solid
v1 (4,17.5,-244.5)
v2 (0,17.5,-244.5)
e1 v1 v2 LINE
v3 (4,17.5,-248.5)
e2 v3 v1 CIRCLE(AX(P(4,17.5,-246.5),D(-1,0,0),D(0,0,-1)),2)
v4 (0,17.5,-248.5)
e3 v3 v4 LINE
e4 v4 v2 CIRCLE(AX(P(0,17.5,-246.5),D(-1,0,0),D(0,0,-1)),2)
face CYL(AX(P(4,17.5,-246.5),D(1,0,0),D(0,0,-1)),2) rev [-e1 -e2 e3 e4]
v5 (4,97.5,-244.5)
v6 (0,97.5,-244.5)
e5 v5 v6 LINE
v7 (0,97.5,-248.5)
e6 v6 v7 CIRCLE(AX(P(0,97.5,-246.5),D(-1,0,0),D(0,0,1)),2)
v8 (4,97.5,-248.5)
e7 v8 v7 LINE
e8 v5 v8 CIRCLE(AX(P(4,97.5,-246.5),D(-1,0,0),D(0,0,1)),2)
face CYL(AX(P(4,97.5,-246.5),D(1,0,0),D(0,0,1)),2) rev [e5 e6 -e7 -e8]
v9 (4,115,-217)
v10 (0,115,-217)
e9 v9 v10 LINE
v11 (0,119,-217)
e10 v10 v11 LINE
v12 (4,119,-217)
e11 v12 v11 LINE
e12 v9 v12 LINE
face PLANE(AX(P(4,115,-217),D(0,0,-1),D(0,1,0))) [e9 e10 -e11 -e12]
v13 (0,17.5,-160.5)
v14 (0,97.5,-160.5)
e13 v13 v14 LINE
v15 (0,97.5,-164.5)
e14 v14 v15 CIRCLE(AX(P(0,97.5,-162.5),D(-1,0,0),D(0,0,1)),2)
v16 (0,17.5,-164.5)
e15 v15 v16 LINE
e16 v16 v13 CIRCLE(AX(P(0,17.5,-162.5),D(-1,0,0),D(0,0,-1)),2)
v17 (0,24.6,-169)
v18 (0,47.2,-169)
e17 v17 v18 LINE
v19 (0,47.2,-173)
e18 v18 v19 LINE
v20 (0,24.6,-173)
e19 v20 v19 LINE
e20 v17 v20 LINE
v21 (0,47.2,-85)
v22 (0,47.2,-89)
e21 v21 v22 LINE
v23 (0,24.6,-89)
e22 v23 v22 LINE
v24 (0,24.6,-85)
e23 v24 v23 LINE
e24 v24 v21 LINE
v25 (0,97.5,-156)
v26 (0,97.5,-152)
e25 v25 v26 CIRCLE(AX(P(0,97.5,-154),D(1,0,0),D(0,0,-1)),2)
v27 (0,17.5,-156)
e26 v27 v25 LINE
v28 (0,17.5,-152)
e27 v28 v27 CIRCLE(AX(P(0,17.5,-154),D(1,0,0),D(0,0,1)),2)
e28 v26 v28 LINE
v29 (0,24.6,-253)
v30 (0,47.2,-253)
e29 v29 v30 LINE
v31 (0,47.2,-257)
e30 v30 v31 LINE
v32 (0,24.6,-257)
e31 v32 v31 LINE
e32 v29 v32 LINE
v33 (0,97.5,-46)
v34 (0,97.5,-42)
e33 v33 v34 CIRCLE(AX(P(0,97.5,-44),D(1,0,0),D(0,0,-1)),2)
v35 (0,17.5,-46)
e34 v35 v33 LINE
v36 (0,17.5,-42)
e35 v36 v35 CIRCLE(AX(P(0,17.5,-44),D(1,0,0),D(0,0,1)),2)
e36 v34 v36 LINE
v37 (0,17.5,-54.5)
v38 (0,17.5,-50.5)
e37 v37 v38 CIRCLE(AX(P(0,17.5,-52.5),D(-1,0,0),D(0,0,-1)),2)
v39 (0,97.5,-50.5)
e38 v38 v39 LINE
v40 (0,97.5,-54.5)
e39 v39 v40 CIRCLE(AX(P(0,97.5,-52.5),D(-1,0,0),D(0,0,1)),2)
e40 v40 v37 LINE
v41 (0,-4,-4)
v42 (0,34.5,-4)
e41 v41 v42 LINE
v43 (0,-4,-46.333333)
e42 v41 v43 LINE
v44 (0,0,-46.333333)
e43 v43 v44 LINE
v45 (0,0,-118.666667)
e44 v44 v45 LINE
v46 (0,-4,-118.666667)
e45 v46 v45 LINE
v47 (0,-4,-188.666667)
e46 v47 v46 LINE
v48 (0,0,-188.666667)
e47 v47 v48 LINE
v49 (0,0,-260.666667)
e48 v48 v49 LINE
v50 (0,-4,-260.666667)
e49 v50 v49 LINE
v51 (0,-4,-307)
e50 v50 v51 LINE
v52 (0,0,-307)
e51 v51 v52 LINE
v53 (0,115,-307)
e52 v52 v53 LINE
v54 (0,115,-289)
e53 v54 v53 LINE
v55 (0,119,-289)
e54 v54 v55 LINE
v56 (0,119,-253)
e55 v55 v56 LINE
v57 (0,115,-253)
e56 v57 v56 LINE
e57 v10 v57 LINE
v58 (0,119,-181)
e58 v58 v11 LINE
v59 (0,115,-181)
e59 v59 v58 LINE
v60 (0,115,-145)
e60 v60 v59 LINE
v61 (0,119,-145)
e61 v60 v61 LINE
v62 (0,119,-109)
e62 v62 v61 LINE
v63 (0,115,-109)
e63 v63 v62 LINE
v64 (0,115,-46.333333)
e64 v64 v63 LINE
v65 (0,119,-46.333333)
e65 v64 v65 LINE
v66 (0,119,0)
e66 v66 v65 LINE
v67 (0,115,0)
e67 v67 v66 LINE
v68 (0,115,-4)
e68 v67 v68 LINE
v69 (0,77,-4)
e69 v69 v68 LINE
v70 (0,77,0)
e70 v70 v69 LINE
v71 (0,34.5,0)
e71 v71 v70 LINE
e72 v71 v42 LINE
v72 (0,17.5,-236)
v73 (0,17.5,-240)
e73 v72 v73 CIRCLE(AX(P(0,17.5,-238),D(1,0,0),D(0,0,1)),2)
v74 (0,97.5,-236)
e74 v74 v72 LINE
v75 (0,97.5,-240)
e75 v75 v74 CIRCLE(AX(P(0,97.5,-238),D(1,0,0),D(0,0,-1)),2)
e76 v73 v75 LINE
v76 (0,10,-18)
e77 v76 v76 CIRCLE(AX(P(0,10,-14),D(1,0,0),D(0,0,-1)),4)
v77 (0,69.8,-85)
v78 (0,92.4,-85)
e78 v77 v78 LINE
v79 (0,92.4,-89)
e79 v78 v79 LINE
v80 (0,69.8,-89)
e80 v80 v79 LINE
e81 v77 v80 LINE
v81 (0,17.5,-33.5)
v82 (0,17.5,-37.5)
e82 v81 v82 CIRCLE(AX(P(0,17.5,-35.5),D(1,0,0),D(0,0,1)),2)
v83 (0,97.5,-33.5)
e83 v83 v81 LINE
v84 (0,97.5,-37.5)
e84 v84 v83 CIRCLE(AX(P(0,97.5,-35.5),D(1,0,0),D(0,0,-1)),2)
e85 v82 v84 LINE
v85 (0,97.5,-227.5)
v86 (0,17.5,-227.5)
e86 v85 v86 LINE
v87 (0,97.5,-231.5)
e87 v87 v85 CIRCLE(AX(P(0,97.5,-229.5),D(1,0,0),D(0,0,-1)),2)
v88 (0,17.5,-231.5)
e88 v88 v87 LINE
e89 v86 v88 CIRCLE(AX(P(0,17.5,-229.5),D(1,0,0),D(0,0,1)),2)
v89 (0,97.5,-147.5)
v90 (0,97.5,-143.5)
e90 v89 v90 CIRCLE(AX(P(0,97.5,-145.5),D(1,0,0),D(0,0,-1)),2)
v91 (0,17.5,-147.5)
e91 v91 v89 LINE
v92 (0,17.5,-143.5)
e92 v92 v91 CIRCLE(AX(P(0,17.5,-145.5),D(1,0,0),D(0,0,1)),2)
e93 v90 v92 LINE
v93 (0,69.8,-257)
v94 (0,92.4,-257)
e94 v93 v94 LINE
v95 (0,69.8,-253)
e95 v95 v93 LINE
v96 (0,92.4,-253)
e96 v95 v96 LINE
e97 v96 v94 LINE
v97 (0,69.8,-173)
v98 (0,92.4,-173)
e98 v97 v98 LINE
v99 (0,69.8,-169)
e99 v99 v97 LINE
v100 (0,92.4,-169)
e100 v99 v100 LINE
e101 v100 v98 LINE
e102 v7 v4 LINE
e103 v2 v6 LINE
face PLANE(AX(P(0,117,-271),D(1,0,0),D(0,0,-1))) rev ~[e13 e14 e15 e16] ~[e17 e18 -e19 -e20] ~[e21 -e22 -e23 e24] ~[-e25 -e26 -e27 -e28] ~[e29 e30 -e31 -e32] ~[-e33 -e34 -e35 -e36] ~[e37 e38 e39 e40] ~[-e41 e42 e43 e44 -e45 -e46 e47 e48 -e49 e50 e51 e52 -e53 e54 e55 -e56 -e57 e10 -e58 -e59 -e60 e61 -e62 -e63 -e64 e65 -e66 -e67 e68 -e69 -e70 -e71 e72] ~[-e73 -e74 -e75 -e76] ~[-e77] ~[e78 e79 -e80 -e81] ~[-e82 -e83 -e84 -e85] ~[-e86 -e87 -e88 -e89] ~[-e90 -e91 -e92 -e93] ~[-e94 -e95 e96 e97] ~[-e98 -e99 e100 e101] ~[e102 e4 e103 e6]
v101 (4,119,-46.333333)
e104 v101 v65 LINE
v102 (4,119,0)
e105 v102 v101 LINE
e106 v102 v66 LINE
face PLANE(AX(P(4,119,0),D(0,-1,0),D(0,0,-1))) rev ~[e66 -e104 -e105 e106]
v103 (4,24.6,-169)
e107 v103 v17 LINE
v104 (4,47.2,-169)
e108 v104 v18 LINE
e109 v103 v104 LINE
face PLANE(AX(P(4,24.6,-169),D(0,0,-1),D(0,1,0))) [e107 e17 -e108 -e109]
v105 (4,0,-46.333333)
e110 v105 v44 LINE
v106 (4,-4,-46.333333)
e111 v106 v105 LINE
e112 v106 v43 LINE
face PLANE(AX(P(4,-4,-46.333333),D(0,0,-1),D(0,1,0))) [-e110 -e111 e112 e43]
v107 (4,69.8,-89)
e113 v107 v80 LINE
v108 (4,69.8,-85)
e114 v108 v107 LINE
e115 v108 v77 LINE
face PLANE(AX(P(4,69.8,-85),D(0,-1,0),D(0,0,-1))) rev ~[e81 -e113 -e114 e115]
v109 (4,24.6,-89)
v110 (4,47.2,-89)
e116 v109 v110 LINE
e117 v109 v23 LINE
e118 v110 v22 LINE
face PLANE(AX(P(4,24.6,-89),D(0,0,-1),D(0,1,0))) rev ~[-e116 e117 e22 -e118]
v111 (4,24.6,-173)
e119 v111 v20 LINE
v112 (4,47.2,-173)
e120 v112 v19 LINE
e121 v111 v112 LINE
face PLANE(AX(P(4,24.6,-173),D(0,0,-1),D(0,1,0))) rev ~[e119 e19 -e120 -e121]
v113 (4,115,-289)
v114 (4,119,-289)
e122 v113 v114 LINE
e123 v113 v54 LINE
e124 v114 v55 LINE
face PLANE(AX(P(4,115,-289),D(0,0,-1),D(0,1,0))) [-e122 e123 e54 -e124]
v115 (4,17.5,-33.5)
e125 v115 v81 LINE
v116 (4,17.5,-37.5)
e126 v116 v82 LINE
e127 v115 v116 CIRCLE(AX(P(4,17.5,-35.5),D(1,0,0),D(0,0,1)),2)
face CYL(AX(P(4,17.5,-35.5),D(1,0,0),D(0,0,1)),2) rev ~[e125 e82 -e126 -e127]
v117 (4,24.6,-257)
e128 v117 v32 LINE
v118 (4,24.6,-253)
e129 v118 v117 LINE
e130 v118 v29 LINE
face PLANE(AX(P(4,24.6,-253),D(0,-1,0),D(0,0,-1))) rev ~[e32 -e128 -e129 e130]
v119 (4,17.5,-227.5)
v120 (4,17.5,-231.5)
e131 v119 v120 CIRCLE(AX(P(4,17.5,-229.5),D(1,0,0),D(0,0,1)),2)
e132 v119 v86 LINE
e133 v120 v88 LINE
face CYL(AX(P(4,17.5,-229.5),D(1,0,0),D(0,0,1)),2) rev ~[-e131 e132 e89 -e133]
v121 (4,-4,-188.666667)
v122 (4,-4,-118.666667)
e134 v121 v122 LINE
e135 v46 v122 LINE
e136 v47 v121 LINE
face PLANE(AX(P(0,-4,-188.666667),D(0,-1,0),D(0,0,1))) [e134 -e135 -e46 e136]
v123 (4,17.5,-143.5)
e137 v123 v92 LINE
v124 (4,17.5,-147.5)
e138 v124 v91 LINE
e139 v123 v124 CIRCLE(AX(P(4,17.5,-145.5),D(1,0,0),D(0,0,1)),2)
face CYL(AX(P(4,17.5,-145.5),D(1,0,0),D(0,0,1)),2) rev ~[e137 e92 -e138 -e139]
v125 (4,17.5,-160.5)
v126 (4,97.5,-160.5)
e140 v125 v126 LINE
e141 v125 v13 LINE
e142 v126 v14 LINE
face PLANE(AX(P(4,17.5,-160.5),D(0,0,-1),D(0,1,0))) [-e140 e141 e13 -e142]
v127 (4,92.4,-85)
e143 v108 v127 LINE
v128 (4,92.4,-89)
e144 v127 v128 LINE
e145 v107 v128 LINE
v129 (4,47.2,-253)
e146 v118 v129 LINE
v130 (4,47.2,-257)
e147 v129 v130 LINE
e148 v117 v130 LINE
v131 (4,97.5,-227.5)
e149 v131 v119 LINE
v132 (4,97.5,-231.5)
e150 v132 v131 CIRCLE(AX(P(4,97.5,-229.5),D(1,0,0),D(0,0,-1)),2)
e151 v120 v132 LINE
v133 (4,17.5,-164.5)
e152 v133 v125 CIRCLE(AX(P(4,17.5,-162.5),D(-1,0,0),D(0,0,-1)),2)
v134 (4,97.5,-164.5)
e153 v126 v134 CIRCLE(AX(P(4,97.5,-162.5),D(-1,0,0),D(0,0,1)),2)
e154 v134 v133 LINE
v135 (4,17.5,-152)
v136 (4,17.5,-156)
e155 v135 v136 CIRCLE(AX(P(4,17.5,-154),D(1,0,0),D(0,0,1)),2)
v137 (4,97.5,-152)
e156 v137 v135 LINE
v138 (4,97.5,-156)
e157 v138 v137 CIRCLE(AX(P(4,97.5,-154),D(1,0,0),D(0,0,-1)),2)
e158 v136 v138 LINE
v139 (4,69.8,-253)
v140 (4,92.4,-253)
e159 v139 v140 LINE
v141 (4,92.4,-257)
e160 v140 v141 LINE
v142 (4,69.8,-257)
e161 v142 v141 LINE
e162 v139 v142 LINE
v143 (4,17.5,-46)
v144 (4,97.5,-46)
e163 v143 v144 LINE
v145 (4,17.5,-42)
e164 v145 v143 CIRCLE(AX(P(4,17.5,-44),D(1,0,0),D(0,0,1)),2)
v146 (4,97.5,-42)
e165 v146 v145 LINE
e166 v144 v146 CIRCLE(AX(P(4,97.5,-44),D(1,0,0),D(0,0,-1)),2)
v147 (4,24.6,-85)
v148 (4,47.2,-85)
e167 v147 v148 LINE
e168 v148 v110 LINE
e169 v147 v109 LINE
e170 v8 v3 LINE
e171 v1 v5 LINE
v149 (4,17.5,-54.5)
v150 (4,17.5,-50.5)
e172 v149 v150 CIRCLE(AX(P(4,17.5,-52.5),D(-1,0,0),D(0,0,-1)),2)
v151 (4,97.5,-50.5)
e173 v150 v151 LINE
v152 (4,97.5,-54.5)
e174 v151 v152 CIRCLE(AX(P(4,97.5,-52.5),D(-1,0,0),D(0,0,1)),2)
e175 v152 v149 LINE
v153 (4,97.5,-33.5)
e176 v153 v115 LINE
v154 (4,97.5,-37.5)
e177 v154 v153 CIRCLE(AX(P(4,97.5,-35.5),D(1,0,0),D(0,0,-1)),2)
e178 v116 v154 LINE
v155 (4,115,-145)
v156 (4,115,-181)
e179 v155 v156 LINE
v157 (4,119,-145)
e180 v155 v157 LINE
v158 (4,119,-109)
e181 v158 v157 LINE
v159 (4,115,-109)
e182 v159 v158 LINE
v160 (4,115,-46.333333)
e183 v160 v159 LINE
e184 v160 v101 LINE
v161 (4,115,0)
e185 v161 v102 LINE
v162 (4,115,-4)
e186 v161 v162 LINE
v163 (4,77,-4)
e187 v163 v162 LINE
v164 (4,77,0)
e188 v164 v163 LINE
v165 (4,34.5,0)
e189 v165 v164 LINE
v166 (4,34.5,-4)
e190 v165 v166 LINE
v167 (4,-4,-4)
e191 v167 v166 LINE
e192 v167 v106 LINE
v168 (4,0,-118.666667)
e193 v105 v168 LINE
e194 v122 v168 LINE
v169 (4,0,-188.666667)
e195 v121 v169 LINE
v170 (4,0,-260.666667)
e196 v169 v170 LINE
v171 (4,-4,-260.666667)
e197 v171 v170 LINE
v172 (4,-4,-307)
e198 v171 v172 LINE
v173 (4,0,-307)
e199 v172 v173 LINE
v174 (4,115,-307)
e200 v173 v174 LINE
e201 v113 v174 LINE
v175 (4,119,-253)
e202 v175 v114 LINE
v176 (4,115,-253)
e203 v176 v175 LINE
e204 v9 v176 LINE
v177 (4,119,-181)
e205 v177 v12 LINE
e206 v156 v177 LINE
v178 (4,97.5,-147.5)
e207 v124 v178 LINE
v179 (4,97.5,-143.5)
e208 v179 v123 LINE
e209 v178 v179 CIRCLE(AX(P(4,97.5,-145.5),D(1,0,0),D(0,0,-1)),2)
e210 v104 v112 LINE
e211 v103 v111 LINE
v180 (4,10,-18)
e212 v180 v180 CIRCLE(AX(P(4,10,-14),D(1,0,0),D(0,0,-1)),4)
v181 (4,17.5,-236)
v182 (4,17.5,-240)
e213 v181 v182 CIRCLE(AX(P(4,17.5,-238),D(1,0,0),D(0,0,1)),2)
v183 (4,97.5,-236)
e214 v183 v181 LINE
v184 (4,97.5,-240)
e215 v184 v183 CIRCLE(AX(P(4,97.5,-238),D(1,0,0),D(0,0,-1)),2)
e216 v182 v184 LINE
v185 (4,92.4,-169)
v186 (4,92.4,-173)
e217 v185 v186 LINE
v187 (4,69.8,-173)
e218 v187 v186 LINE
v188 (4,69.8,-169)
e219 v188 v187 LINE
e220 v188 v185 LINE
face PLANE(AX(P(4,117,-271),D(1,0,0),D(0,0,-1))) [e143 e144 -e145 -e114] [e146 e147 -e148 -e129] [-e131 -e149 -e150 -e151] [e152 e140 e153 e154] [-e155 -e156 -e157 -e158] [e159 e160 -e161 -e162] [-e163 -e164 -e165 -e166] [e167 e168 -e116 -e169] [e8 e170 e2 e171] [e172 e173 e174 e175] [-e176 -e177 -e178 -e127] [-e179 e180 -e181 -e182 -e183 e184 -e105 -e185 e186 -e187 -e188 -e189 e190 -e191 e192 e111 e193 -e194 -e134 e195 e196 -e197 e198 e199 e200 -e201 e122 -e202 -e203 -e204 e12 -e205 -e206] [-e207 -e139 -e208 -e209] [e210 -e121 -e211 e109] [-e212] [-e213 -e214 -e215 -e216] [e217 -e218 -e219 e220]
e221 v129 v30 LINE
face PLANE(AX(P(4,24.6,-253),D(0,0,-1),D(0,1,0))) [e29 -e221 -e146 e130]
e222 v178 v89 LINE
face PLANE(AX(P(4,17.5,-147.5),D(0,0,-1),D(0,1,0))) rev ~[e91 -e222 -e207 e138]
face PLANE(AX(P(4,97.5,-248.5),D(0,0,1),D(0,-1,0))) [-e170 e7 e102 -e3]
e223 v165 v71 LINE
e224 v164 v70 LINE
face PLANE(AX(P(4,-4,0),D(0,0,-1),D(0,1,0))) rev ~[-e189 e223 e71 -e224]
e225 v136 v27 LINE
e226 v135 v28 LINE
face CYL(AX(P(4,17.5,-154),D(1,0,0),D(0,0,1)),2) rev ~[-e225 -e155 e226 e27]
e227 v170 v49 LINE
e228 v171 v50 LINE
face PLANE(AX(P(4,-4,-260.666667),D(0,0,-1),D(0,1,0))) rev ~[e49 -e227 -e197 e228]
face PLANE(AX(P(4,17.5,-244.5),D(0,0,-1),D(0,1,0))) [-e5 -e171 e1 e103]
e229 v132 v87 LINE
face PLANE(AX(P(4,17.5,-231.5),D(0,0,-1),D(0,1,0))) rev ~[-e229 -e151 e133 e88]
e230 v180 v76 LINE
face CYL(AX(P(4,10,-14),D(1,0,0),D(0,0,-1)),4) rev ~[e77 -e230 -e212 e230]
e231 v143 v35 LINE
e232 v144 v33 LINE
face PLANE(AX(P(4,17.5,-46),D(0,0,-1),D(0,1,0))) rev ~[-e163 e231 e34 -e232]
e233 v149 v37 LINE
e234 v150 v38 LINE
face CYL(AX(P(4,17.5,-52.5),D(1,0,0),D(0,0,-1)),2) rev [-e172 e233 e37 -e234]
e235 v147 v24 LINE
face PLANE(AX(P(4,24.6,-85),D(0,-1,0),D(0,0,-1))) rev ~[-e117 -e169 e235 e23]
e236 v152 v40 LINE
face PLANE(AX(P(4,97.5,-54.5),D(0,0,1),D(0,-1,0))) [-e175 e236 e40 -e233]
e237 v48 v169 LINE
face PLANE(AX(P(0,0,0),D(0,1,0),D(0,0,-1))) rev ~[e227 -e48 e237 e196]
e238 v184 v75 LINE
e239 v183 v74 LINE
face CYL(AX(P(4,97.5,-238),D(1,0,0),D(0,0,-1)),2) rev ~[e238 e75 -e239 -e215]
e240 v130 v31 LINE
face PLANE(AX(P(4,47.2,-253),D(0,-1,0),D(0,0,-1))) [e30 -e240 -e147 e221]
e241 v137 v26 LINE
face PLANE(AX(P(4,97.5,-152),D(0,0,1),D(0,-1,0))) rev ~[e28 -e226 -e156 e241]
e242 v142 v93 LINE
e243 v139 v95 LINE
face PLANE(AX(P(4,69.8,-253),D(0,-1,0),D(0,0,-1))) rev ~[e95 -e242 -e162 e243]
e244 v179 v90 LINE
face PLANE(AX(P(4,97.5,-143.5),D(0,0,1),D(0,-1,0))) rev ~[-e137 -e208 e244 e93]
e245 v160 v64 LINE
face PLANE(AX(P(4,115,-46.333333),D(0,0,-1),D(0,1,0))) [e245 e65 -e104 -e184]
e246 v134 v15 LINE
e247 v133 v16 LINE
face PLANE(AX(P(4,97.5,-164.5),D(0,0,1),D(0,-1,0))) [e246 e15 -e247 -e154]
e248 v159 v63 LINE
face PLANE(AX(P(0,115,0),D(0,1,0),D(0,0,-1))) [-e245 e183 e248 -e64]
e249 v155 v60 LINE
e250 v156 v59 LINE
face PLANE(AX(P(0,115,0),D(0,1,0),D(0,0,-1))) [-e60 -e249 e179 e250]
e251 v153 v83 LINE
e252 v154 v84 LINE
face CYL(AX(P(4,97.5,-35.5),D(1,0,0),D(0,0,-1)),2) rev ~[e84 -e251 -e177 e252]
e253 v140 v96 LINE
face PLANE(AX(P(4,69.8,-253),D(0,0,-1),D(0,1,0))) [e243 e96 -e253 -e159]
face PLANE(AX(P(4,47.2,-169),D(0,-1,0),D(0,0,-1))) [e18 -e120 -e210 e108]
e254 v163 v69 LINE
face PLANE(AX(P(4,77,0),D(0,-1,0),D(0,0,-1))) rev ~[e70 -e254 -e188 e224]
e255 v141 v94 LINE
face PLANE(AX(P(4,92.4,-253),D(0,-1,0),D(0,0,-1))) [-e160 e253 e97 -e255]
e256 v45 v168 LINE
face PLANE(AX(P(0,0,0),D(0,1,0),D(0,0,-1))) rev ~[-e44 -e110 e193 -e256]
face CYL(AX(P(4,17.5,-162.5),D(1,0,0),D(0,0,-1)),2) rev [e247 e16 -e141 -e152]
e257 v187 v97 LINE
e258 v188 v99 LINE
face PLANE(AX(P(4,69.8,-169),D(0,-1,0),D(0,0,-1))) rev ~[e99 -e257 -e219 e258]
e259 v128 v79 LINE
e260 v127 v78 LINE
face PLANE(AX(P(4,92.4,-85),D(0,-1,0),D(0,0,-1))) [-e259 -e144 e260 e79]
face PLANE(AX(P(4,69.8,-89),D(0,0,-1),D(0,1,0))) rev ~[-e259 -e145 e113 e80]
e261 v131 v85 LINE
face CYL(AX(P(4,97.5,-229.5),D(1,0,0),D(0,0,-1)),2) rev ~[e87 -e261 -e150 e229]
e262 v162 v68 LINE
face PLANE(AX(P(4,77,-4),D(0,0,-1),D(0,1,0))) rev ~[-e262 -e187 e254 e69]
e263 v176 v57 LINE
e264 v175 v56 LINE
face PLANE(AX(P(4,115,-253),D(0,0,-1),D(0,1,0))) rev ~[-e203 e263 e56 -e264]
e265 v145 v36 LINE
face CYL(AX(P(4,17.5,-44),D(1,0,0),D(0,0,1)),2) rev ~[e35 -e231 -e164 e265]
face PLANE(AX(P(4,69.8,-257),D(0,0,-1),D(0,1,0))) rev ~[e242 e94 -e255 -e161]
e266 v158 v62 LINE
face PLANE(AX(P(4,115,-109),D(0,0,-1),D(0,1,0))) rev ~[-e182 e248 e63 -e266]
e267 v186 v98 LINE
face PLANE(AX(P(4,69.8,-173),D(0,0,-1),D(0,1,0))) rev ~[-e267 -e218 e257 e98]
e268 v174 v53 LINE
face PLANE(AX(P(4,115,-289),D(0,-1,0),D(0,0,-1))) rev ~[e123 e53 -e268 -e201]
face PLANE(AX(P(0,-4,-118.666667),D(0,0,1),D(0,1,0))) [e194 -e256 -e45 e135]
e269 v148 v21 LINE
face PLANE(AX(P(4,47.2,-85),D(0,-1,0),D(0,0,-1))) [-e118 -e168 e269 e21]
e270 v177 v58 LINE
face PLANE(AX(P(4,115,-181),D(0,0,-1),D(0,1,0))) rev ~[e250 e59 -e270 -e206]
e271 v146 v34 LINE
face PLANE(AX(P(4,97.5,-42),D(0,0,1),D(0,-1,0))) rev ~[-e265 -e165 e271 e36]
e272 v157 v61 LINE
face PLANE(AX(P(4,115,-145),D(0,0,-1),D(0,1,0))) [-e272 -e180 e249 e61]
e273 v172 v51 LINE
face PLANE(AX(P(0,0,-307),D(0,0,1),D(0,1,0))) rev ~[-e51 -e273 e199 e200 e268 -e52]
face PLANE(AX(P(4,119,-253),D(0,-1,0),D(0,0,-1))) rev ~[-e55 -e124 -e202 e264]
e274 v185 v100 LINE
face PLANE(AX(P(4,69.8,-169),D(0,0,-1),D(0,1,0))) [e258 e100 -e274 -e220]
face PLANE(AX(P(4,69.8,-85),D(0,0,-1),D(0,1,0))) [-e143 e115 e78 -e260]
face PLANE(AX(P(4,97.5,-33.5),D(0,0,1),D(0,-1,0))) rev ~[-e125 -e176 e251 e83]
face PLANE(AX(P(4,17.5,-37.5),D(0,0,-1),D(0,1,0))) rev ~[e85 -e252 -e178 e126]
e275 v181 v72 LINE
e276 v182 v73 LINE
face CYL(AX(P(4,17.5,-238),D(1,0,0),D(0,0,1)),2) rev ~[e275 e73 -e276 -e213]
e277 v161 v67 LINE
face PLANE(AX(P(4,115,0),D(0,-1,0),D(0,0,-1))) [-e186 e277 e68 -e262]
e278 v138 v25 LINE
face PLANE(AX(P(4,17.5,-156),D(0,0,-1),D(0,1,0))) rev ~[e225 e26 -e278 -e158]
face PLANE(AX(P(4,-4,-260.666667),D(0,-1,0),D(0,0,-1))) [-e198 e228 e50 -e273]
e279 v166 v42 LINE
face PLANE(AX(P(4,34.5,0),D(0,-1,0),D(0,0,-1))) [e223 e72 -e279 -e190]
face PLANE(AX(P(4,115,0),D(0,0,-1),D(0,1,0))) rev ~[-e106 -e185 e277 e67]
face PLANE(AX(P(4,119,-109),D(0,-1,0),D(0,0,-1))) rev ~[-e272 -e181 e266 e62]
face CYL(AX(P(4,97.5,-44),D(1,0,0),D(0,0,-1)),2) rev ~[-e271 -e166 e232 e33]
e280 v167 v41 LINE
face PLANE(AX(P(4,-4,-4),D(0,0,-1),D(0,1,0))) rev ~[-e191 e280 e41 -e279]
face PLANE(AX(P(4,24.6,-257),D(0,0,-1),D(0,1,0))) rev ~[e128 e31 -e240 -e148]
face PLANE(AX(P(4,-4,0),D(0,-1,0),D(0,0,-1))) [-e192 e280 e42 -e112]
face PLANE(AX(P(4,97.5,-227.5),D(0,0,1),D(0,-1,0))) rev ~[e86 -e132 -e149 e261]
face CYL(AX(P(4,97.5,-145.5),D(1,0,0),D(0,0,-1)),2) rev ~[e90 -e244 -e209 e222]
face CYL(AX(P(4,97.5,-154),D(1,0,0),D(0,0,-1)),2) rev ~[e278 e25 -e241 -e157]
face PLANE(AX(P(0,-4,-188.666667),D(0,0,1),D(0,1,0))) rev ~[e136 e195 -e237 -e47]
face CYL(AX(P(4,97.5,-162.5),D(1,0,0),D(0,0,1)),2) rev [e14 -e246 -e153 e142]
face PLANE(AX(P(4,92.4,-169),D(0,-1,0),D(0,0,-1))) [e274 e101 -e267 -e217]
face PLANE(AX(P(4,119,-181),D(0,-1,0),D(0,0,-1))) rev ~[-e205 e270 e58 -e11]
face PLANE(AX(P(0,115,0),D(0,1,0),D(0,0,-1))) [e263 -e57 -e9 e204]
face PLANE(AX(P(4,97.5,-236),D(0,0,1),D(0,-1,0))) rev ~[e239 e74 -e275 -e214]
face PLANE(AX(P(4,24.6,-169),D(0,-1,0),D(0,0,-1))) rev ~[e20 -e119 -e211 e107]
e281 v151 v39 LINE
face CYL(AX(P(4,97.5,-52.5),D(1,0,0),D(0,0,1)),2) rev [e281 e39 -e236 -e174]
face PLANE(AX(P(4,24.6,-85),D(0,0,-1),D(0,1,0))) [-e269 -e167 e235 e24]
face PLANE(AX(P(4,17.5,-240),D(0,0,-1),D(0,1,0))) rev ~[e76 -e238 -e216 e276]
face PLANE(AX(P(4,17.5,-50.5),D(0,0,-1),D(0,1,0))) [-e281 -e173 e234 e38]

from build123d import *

# Parameters (mm, degrees)
SKETCH1_W           = 307
SKETCH1_H           = 115
BOSS_EXTRUDE1_DEPTH = 4
SKETCH2_W           = 46.333333333
SKETCH2_H           = 4
BOSS_EXTRUDE2_DEPTH = 4
SKETCH3_W           = 4
SKETCH3_H           = 38
SKETCH3_H_2         = 38.5
CUT_EXTRUDE1_DEPTH  = 4
SKETCH4_W           = 4
SKETCH4_H           = 22.6
CUT_EXTRUDE2_DEPTH  = 328.856676003
SKETCH5_R           = 4
CUT_EXTRUDE3_DEPTH  = 4
LPATTERN2_COUNT     = 3
LPATTERN2_PITCH     = 84
SKETCH6_W           = 70
SKETCH6_H           = 4
BOSS_EXTRUDE3_DEPTH = 4
LPATTERN1_COUNT     = 2
LPATTERN1_PITCH     = 119
SKETCH7_W           = 18
SKETCH7_H           = 4
CUT_EXTRUDE4_DEPTH  = 4
SKETCH8_W           = 36
SKETCH8_H           = 4
BOSS_EXTRUDE5_DEPTH = 4
CUT_EXTRUDE5_DEPTH  = 4
LPATTERN3_COUNT     = 3
LPATTERN3_PITCH     = 84
LPATTERN4_COUNT     = 2
LPATTERN4_PITCH     = 110


with BuildPart() as part:
    # Sketch1 → Boss-Extrude1 (new body)
    with BuildSketch(Plane(origin=(0, 0, 0), x_dir=(0, 0, -1), z_dir=(1, 0, 0))):
        with Locations((153.5, 57.5)):
            Rectangle(SKETCH1_W, SKETCH1_H)
    extrude(amount=BOSS_EXTRUDE1_DEPTH)

    # Sketch2 → Boss-Extrude2 (add)
    with BuildSketch(Plane(origin=(4, 0, 0), x_dir=(0, 0, -1), z_dir=(1, 0, 0))):
        with Locations((23.166666667, -2)):
            Rectangle(SKETCH2_W, SKETCH2_H)
        with Locations((283.833333334, -2)):
            Rectangle(SKETCH2_W, SKETCH2_H)
    boss_extrude2 = extrude(amount=-BOSS_EXTRUDE2_DEPTH)

    # Sketch3 → Cut-Extrude1 (cut)
    with BuildSketch(Plane(origin=(4, 0, 0), x_dir=(0, 0, -1), z_dir=(1, 0, 0))):
        with Locations((2, 96)):
            Rectangle(SKETCH3_W, SKETCH3_H)
        with Locations((2, 15.25)):
            Rectangle(SKETCH3_W, SKETCH3_H_2)
    extrude(amount=-CUT_EXTRUDE1_DEPTH, mode=Mode.SUBTRACT)

    # Sketch4 → Cut-Extrude2 (cut, through all)
    with BuildSketch(Plane(origin=(4, 0, 0), x_dir=(0, 0, -1), z_dir=(1, 0, 0))):
        with Locations((255, 81.1)):
            Rectangle(SKETCH4_W, SKETCH4_H)
        with Locations((255, 35.9)):
            Rectangle(SKETCH4_W, SKETCH4_H)
    cut_extrude2 = extrude(amount=-CUT_EXTRUDE2_DEPTH, mode=Mode.SUBTRACT)

    # Sketch5 → Cut-Extrude3 (cut)
    with BuildSketch(Plane(origin=(4, 0, 0), x_dir=(0, 0, -1), z_dir=(1, 0, 0))):
        with Locations((14, 10)):
            Circle(SKETCH5_R)
    extrude(amount=-CUT_EXTRUDE3_DEPTH, mode=Mode.SUBTRACT)

    # LPattern2: Cut-Extrude2 ×3
    with Locations(*[(0, 0, i * LPATTERN2_PITCH) for i in range(1, LPATTERN2_COUNT)]):
        add(cut_extrude2, mode=Mode.SUBTRACT)

    # Sketch6 → Boss-Extrude3 (add)
    with BuildSketch(Plane.ZY):
        with Locations((-153.666666667, -2)):
            Rectangle(SKETCH6_W, SKETCH6_H)
    extrude(amount=-BOSS_EXTRUDE3_DEPTH)

    # LPattern1: Boss-Extrude2 ×2
    with Locations(*[(0, i * LPATTERN1_PITCH, 0) for i in range(1, LPATTERN1_COUNT)]):
        add(boss_extrude2)

    # Sketch7 → Cut-Extrude4 (cut)
    with BuildSketch(Plane(origin=(4, 0, 0), x_dir=(0, 0, -1), z_dir=(1, 0, 0))):
        with Locations((298, 117)):
            Rectangle(SKETCH7_W, SKETCH7_H)
    extrude(amount=-CUT_EXTRUDE4_DEPTH, mode=Mode.SUBTRACT)

    # Sketch8 → Boss-Extrude5 (add)
    with BuildSketch(Plane(origin=(4, 0, 0), x_dir=(0, 0, -1), z_dir=(1, 0, 0))):
        with Locations((271, 117)):
            Rectangle(SKETCH8_W, SKETCH8_H)
        with Locations((199, 117)):
            Rectangle(SKETCH8_W, SKETCH8_H)
        with Locations((127, 117)):
            Rectangle(SKETCH8_W, SKETCH8_H)
    extrude(amount=-BOSS_EXTRUDE5_DEPTH)

    # Sketch9 → Cut-Extrude5 (cut)
    with BuildSketch(Plane(origin=(4, 0, 0), x_dir=(0, 0, -1), z_dir=(1, 0, 0))):
        with BuildLine():
            Line((164.5, 97.5), (164.5, 17.5))
            ThreePointArc((164.5, 17.5), (162.5, 15.5), (160.5, 17.5))
            Line((160.5, 17.5), (160.5, 97.5))
            ThreePointArc((160.5, 97.5), (162.5, 99.5), (164.5, 97.5))
        make_face()
        with BuildLine():
            Line((152, 97.5), (152, 17.5))
            ThreePointArc((152, 17.5), (154, 15.5), (156, 17.5))
            Line((156, 17.5), (156, 97.5))
            ThreePointArc((156, 97.5), (154, 99.5), (152, 97.5))
        make_face()
        with BuildLine():
            Line((143.5, 97.5), (143.5, 17.5))
            ThreePointArc((143.5, 17.5), (145.5, 15.5), (147.5, 17.5))
            Line((147.5, 17.5), (147.5, 97.5))
            ThreePointArc((147.5, 97.5), (145.5, 99.5), (143.5, 97.5))
        make_face()
    cut_extrude5 = extrude(amount=-CUT_EXTRUDE5_DEPTH, mode=Mode.SUBTRACT)

    # LPattern3: Cut-Extrude5 ×3
    with Locations(*[(0, 0, -i * LPATTERN3_PITCH) for i in range(1, LPATTERN3_COUNT)]):
        add(cut_extrude5, mode=Mode.SUBTRACT)

    # LPattern4: Cut-Extrude5 ×2
    with Locations(*[(0, 0, i * LPATTERN4_PITCH) for i in range(1, LPATTERN4_COUNT)]):
        add(cut_extrude5, mode=Mode.SUBTRACT)


solid = part.part
